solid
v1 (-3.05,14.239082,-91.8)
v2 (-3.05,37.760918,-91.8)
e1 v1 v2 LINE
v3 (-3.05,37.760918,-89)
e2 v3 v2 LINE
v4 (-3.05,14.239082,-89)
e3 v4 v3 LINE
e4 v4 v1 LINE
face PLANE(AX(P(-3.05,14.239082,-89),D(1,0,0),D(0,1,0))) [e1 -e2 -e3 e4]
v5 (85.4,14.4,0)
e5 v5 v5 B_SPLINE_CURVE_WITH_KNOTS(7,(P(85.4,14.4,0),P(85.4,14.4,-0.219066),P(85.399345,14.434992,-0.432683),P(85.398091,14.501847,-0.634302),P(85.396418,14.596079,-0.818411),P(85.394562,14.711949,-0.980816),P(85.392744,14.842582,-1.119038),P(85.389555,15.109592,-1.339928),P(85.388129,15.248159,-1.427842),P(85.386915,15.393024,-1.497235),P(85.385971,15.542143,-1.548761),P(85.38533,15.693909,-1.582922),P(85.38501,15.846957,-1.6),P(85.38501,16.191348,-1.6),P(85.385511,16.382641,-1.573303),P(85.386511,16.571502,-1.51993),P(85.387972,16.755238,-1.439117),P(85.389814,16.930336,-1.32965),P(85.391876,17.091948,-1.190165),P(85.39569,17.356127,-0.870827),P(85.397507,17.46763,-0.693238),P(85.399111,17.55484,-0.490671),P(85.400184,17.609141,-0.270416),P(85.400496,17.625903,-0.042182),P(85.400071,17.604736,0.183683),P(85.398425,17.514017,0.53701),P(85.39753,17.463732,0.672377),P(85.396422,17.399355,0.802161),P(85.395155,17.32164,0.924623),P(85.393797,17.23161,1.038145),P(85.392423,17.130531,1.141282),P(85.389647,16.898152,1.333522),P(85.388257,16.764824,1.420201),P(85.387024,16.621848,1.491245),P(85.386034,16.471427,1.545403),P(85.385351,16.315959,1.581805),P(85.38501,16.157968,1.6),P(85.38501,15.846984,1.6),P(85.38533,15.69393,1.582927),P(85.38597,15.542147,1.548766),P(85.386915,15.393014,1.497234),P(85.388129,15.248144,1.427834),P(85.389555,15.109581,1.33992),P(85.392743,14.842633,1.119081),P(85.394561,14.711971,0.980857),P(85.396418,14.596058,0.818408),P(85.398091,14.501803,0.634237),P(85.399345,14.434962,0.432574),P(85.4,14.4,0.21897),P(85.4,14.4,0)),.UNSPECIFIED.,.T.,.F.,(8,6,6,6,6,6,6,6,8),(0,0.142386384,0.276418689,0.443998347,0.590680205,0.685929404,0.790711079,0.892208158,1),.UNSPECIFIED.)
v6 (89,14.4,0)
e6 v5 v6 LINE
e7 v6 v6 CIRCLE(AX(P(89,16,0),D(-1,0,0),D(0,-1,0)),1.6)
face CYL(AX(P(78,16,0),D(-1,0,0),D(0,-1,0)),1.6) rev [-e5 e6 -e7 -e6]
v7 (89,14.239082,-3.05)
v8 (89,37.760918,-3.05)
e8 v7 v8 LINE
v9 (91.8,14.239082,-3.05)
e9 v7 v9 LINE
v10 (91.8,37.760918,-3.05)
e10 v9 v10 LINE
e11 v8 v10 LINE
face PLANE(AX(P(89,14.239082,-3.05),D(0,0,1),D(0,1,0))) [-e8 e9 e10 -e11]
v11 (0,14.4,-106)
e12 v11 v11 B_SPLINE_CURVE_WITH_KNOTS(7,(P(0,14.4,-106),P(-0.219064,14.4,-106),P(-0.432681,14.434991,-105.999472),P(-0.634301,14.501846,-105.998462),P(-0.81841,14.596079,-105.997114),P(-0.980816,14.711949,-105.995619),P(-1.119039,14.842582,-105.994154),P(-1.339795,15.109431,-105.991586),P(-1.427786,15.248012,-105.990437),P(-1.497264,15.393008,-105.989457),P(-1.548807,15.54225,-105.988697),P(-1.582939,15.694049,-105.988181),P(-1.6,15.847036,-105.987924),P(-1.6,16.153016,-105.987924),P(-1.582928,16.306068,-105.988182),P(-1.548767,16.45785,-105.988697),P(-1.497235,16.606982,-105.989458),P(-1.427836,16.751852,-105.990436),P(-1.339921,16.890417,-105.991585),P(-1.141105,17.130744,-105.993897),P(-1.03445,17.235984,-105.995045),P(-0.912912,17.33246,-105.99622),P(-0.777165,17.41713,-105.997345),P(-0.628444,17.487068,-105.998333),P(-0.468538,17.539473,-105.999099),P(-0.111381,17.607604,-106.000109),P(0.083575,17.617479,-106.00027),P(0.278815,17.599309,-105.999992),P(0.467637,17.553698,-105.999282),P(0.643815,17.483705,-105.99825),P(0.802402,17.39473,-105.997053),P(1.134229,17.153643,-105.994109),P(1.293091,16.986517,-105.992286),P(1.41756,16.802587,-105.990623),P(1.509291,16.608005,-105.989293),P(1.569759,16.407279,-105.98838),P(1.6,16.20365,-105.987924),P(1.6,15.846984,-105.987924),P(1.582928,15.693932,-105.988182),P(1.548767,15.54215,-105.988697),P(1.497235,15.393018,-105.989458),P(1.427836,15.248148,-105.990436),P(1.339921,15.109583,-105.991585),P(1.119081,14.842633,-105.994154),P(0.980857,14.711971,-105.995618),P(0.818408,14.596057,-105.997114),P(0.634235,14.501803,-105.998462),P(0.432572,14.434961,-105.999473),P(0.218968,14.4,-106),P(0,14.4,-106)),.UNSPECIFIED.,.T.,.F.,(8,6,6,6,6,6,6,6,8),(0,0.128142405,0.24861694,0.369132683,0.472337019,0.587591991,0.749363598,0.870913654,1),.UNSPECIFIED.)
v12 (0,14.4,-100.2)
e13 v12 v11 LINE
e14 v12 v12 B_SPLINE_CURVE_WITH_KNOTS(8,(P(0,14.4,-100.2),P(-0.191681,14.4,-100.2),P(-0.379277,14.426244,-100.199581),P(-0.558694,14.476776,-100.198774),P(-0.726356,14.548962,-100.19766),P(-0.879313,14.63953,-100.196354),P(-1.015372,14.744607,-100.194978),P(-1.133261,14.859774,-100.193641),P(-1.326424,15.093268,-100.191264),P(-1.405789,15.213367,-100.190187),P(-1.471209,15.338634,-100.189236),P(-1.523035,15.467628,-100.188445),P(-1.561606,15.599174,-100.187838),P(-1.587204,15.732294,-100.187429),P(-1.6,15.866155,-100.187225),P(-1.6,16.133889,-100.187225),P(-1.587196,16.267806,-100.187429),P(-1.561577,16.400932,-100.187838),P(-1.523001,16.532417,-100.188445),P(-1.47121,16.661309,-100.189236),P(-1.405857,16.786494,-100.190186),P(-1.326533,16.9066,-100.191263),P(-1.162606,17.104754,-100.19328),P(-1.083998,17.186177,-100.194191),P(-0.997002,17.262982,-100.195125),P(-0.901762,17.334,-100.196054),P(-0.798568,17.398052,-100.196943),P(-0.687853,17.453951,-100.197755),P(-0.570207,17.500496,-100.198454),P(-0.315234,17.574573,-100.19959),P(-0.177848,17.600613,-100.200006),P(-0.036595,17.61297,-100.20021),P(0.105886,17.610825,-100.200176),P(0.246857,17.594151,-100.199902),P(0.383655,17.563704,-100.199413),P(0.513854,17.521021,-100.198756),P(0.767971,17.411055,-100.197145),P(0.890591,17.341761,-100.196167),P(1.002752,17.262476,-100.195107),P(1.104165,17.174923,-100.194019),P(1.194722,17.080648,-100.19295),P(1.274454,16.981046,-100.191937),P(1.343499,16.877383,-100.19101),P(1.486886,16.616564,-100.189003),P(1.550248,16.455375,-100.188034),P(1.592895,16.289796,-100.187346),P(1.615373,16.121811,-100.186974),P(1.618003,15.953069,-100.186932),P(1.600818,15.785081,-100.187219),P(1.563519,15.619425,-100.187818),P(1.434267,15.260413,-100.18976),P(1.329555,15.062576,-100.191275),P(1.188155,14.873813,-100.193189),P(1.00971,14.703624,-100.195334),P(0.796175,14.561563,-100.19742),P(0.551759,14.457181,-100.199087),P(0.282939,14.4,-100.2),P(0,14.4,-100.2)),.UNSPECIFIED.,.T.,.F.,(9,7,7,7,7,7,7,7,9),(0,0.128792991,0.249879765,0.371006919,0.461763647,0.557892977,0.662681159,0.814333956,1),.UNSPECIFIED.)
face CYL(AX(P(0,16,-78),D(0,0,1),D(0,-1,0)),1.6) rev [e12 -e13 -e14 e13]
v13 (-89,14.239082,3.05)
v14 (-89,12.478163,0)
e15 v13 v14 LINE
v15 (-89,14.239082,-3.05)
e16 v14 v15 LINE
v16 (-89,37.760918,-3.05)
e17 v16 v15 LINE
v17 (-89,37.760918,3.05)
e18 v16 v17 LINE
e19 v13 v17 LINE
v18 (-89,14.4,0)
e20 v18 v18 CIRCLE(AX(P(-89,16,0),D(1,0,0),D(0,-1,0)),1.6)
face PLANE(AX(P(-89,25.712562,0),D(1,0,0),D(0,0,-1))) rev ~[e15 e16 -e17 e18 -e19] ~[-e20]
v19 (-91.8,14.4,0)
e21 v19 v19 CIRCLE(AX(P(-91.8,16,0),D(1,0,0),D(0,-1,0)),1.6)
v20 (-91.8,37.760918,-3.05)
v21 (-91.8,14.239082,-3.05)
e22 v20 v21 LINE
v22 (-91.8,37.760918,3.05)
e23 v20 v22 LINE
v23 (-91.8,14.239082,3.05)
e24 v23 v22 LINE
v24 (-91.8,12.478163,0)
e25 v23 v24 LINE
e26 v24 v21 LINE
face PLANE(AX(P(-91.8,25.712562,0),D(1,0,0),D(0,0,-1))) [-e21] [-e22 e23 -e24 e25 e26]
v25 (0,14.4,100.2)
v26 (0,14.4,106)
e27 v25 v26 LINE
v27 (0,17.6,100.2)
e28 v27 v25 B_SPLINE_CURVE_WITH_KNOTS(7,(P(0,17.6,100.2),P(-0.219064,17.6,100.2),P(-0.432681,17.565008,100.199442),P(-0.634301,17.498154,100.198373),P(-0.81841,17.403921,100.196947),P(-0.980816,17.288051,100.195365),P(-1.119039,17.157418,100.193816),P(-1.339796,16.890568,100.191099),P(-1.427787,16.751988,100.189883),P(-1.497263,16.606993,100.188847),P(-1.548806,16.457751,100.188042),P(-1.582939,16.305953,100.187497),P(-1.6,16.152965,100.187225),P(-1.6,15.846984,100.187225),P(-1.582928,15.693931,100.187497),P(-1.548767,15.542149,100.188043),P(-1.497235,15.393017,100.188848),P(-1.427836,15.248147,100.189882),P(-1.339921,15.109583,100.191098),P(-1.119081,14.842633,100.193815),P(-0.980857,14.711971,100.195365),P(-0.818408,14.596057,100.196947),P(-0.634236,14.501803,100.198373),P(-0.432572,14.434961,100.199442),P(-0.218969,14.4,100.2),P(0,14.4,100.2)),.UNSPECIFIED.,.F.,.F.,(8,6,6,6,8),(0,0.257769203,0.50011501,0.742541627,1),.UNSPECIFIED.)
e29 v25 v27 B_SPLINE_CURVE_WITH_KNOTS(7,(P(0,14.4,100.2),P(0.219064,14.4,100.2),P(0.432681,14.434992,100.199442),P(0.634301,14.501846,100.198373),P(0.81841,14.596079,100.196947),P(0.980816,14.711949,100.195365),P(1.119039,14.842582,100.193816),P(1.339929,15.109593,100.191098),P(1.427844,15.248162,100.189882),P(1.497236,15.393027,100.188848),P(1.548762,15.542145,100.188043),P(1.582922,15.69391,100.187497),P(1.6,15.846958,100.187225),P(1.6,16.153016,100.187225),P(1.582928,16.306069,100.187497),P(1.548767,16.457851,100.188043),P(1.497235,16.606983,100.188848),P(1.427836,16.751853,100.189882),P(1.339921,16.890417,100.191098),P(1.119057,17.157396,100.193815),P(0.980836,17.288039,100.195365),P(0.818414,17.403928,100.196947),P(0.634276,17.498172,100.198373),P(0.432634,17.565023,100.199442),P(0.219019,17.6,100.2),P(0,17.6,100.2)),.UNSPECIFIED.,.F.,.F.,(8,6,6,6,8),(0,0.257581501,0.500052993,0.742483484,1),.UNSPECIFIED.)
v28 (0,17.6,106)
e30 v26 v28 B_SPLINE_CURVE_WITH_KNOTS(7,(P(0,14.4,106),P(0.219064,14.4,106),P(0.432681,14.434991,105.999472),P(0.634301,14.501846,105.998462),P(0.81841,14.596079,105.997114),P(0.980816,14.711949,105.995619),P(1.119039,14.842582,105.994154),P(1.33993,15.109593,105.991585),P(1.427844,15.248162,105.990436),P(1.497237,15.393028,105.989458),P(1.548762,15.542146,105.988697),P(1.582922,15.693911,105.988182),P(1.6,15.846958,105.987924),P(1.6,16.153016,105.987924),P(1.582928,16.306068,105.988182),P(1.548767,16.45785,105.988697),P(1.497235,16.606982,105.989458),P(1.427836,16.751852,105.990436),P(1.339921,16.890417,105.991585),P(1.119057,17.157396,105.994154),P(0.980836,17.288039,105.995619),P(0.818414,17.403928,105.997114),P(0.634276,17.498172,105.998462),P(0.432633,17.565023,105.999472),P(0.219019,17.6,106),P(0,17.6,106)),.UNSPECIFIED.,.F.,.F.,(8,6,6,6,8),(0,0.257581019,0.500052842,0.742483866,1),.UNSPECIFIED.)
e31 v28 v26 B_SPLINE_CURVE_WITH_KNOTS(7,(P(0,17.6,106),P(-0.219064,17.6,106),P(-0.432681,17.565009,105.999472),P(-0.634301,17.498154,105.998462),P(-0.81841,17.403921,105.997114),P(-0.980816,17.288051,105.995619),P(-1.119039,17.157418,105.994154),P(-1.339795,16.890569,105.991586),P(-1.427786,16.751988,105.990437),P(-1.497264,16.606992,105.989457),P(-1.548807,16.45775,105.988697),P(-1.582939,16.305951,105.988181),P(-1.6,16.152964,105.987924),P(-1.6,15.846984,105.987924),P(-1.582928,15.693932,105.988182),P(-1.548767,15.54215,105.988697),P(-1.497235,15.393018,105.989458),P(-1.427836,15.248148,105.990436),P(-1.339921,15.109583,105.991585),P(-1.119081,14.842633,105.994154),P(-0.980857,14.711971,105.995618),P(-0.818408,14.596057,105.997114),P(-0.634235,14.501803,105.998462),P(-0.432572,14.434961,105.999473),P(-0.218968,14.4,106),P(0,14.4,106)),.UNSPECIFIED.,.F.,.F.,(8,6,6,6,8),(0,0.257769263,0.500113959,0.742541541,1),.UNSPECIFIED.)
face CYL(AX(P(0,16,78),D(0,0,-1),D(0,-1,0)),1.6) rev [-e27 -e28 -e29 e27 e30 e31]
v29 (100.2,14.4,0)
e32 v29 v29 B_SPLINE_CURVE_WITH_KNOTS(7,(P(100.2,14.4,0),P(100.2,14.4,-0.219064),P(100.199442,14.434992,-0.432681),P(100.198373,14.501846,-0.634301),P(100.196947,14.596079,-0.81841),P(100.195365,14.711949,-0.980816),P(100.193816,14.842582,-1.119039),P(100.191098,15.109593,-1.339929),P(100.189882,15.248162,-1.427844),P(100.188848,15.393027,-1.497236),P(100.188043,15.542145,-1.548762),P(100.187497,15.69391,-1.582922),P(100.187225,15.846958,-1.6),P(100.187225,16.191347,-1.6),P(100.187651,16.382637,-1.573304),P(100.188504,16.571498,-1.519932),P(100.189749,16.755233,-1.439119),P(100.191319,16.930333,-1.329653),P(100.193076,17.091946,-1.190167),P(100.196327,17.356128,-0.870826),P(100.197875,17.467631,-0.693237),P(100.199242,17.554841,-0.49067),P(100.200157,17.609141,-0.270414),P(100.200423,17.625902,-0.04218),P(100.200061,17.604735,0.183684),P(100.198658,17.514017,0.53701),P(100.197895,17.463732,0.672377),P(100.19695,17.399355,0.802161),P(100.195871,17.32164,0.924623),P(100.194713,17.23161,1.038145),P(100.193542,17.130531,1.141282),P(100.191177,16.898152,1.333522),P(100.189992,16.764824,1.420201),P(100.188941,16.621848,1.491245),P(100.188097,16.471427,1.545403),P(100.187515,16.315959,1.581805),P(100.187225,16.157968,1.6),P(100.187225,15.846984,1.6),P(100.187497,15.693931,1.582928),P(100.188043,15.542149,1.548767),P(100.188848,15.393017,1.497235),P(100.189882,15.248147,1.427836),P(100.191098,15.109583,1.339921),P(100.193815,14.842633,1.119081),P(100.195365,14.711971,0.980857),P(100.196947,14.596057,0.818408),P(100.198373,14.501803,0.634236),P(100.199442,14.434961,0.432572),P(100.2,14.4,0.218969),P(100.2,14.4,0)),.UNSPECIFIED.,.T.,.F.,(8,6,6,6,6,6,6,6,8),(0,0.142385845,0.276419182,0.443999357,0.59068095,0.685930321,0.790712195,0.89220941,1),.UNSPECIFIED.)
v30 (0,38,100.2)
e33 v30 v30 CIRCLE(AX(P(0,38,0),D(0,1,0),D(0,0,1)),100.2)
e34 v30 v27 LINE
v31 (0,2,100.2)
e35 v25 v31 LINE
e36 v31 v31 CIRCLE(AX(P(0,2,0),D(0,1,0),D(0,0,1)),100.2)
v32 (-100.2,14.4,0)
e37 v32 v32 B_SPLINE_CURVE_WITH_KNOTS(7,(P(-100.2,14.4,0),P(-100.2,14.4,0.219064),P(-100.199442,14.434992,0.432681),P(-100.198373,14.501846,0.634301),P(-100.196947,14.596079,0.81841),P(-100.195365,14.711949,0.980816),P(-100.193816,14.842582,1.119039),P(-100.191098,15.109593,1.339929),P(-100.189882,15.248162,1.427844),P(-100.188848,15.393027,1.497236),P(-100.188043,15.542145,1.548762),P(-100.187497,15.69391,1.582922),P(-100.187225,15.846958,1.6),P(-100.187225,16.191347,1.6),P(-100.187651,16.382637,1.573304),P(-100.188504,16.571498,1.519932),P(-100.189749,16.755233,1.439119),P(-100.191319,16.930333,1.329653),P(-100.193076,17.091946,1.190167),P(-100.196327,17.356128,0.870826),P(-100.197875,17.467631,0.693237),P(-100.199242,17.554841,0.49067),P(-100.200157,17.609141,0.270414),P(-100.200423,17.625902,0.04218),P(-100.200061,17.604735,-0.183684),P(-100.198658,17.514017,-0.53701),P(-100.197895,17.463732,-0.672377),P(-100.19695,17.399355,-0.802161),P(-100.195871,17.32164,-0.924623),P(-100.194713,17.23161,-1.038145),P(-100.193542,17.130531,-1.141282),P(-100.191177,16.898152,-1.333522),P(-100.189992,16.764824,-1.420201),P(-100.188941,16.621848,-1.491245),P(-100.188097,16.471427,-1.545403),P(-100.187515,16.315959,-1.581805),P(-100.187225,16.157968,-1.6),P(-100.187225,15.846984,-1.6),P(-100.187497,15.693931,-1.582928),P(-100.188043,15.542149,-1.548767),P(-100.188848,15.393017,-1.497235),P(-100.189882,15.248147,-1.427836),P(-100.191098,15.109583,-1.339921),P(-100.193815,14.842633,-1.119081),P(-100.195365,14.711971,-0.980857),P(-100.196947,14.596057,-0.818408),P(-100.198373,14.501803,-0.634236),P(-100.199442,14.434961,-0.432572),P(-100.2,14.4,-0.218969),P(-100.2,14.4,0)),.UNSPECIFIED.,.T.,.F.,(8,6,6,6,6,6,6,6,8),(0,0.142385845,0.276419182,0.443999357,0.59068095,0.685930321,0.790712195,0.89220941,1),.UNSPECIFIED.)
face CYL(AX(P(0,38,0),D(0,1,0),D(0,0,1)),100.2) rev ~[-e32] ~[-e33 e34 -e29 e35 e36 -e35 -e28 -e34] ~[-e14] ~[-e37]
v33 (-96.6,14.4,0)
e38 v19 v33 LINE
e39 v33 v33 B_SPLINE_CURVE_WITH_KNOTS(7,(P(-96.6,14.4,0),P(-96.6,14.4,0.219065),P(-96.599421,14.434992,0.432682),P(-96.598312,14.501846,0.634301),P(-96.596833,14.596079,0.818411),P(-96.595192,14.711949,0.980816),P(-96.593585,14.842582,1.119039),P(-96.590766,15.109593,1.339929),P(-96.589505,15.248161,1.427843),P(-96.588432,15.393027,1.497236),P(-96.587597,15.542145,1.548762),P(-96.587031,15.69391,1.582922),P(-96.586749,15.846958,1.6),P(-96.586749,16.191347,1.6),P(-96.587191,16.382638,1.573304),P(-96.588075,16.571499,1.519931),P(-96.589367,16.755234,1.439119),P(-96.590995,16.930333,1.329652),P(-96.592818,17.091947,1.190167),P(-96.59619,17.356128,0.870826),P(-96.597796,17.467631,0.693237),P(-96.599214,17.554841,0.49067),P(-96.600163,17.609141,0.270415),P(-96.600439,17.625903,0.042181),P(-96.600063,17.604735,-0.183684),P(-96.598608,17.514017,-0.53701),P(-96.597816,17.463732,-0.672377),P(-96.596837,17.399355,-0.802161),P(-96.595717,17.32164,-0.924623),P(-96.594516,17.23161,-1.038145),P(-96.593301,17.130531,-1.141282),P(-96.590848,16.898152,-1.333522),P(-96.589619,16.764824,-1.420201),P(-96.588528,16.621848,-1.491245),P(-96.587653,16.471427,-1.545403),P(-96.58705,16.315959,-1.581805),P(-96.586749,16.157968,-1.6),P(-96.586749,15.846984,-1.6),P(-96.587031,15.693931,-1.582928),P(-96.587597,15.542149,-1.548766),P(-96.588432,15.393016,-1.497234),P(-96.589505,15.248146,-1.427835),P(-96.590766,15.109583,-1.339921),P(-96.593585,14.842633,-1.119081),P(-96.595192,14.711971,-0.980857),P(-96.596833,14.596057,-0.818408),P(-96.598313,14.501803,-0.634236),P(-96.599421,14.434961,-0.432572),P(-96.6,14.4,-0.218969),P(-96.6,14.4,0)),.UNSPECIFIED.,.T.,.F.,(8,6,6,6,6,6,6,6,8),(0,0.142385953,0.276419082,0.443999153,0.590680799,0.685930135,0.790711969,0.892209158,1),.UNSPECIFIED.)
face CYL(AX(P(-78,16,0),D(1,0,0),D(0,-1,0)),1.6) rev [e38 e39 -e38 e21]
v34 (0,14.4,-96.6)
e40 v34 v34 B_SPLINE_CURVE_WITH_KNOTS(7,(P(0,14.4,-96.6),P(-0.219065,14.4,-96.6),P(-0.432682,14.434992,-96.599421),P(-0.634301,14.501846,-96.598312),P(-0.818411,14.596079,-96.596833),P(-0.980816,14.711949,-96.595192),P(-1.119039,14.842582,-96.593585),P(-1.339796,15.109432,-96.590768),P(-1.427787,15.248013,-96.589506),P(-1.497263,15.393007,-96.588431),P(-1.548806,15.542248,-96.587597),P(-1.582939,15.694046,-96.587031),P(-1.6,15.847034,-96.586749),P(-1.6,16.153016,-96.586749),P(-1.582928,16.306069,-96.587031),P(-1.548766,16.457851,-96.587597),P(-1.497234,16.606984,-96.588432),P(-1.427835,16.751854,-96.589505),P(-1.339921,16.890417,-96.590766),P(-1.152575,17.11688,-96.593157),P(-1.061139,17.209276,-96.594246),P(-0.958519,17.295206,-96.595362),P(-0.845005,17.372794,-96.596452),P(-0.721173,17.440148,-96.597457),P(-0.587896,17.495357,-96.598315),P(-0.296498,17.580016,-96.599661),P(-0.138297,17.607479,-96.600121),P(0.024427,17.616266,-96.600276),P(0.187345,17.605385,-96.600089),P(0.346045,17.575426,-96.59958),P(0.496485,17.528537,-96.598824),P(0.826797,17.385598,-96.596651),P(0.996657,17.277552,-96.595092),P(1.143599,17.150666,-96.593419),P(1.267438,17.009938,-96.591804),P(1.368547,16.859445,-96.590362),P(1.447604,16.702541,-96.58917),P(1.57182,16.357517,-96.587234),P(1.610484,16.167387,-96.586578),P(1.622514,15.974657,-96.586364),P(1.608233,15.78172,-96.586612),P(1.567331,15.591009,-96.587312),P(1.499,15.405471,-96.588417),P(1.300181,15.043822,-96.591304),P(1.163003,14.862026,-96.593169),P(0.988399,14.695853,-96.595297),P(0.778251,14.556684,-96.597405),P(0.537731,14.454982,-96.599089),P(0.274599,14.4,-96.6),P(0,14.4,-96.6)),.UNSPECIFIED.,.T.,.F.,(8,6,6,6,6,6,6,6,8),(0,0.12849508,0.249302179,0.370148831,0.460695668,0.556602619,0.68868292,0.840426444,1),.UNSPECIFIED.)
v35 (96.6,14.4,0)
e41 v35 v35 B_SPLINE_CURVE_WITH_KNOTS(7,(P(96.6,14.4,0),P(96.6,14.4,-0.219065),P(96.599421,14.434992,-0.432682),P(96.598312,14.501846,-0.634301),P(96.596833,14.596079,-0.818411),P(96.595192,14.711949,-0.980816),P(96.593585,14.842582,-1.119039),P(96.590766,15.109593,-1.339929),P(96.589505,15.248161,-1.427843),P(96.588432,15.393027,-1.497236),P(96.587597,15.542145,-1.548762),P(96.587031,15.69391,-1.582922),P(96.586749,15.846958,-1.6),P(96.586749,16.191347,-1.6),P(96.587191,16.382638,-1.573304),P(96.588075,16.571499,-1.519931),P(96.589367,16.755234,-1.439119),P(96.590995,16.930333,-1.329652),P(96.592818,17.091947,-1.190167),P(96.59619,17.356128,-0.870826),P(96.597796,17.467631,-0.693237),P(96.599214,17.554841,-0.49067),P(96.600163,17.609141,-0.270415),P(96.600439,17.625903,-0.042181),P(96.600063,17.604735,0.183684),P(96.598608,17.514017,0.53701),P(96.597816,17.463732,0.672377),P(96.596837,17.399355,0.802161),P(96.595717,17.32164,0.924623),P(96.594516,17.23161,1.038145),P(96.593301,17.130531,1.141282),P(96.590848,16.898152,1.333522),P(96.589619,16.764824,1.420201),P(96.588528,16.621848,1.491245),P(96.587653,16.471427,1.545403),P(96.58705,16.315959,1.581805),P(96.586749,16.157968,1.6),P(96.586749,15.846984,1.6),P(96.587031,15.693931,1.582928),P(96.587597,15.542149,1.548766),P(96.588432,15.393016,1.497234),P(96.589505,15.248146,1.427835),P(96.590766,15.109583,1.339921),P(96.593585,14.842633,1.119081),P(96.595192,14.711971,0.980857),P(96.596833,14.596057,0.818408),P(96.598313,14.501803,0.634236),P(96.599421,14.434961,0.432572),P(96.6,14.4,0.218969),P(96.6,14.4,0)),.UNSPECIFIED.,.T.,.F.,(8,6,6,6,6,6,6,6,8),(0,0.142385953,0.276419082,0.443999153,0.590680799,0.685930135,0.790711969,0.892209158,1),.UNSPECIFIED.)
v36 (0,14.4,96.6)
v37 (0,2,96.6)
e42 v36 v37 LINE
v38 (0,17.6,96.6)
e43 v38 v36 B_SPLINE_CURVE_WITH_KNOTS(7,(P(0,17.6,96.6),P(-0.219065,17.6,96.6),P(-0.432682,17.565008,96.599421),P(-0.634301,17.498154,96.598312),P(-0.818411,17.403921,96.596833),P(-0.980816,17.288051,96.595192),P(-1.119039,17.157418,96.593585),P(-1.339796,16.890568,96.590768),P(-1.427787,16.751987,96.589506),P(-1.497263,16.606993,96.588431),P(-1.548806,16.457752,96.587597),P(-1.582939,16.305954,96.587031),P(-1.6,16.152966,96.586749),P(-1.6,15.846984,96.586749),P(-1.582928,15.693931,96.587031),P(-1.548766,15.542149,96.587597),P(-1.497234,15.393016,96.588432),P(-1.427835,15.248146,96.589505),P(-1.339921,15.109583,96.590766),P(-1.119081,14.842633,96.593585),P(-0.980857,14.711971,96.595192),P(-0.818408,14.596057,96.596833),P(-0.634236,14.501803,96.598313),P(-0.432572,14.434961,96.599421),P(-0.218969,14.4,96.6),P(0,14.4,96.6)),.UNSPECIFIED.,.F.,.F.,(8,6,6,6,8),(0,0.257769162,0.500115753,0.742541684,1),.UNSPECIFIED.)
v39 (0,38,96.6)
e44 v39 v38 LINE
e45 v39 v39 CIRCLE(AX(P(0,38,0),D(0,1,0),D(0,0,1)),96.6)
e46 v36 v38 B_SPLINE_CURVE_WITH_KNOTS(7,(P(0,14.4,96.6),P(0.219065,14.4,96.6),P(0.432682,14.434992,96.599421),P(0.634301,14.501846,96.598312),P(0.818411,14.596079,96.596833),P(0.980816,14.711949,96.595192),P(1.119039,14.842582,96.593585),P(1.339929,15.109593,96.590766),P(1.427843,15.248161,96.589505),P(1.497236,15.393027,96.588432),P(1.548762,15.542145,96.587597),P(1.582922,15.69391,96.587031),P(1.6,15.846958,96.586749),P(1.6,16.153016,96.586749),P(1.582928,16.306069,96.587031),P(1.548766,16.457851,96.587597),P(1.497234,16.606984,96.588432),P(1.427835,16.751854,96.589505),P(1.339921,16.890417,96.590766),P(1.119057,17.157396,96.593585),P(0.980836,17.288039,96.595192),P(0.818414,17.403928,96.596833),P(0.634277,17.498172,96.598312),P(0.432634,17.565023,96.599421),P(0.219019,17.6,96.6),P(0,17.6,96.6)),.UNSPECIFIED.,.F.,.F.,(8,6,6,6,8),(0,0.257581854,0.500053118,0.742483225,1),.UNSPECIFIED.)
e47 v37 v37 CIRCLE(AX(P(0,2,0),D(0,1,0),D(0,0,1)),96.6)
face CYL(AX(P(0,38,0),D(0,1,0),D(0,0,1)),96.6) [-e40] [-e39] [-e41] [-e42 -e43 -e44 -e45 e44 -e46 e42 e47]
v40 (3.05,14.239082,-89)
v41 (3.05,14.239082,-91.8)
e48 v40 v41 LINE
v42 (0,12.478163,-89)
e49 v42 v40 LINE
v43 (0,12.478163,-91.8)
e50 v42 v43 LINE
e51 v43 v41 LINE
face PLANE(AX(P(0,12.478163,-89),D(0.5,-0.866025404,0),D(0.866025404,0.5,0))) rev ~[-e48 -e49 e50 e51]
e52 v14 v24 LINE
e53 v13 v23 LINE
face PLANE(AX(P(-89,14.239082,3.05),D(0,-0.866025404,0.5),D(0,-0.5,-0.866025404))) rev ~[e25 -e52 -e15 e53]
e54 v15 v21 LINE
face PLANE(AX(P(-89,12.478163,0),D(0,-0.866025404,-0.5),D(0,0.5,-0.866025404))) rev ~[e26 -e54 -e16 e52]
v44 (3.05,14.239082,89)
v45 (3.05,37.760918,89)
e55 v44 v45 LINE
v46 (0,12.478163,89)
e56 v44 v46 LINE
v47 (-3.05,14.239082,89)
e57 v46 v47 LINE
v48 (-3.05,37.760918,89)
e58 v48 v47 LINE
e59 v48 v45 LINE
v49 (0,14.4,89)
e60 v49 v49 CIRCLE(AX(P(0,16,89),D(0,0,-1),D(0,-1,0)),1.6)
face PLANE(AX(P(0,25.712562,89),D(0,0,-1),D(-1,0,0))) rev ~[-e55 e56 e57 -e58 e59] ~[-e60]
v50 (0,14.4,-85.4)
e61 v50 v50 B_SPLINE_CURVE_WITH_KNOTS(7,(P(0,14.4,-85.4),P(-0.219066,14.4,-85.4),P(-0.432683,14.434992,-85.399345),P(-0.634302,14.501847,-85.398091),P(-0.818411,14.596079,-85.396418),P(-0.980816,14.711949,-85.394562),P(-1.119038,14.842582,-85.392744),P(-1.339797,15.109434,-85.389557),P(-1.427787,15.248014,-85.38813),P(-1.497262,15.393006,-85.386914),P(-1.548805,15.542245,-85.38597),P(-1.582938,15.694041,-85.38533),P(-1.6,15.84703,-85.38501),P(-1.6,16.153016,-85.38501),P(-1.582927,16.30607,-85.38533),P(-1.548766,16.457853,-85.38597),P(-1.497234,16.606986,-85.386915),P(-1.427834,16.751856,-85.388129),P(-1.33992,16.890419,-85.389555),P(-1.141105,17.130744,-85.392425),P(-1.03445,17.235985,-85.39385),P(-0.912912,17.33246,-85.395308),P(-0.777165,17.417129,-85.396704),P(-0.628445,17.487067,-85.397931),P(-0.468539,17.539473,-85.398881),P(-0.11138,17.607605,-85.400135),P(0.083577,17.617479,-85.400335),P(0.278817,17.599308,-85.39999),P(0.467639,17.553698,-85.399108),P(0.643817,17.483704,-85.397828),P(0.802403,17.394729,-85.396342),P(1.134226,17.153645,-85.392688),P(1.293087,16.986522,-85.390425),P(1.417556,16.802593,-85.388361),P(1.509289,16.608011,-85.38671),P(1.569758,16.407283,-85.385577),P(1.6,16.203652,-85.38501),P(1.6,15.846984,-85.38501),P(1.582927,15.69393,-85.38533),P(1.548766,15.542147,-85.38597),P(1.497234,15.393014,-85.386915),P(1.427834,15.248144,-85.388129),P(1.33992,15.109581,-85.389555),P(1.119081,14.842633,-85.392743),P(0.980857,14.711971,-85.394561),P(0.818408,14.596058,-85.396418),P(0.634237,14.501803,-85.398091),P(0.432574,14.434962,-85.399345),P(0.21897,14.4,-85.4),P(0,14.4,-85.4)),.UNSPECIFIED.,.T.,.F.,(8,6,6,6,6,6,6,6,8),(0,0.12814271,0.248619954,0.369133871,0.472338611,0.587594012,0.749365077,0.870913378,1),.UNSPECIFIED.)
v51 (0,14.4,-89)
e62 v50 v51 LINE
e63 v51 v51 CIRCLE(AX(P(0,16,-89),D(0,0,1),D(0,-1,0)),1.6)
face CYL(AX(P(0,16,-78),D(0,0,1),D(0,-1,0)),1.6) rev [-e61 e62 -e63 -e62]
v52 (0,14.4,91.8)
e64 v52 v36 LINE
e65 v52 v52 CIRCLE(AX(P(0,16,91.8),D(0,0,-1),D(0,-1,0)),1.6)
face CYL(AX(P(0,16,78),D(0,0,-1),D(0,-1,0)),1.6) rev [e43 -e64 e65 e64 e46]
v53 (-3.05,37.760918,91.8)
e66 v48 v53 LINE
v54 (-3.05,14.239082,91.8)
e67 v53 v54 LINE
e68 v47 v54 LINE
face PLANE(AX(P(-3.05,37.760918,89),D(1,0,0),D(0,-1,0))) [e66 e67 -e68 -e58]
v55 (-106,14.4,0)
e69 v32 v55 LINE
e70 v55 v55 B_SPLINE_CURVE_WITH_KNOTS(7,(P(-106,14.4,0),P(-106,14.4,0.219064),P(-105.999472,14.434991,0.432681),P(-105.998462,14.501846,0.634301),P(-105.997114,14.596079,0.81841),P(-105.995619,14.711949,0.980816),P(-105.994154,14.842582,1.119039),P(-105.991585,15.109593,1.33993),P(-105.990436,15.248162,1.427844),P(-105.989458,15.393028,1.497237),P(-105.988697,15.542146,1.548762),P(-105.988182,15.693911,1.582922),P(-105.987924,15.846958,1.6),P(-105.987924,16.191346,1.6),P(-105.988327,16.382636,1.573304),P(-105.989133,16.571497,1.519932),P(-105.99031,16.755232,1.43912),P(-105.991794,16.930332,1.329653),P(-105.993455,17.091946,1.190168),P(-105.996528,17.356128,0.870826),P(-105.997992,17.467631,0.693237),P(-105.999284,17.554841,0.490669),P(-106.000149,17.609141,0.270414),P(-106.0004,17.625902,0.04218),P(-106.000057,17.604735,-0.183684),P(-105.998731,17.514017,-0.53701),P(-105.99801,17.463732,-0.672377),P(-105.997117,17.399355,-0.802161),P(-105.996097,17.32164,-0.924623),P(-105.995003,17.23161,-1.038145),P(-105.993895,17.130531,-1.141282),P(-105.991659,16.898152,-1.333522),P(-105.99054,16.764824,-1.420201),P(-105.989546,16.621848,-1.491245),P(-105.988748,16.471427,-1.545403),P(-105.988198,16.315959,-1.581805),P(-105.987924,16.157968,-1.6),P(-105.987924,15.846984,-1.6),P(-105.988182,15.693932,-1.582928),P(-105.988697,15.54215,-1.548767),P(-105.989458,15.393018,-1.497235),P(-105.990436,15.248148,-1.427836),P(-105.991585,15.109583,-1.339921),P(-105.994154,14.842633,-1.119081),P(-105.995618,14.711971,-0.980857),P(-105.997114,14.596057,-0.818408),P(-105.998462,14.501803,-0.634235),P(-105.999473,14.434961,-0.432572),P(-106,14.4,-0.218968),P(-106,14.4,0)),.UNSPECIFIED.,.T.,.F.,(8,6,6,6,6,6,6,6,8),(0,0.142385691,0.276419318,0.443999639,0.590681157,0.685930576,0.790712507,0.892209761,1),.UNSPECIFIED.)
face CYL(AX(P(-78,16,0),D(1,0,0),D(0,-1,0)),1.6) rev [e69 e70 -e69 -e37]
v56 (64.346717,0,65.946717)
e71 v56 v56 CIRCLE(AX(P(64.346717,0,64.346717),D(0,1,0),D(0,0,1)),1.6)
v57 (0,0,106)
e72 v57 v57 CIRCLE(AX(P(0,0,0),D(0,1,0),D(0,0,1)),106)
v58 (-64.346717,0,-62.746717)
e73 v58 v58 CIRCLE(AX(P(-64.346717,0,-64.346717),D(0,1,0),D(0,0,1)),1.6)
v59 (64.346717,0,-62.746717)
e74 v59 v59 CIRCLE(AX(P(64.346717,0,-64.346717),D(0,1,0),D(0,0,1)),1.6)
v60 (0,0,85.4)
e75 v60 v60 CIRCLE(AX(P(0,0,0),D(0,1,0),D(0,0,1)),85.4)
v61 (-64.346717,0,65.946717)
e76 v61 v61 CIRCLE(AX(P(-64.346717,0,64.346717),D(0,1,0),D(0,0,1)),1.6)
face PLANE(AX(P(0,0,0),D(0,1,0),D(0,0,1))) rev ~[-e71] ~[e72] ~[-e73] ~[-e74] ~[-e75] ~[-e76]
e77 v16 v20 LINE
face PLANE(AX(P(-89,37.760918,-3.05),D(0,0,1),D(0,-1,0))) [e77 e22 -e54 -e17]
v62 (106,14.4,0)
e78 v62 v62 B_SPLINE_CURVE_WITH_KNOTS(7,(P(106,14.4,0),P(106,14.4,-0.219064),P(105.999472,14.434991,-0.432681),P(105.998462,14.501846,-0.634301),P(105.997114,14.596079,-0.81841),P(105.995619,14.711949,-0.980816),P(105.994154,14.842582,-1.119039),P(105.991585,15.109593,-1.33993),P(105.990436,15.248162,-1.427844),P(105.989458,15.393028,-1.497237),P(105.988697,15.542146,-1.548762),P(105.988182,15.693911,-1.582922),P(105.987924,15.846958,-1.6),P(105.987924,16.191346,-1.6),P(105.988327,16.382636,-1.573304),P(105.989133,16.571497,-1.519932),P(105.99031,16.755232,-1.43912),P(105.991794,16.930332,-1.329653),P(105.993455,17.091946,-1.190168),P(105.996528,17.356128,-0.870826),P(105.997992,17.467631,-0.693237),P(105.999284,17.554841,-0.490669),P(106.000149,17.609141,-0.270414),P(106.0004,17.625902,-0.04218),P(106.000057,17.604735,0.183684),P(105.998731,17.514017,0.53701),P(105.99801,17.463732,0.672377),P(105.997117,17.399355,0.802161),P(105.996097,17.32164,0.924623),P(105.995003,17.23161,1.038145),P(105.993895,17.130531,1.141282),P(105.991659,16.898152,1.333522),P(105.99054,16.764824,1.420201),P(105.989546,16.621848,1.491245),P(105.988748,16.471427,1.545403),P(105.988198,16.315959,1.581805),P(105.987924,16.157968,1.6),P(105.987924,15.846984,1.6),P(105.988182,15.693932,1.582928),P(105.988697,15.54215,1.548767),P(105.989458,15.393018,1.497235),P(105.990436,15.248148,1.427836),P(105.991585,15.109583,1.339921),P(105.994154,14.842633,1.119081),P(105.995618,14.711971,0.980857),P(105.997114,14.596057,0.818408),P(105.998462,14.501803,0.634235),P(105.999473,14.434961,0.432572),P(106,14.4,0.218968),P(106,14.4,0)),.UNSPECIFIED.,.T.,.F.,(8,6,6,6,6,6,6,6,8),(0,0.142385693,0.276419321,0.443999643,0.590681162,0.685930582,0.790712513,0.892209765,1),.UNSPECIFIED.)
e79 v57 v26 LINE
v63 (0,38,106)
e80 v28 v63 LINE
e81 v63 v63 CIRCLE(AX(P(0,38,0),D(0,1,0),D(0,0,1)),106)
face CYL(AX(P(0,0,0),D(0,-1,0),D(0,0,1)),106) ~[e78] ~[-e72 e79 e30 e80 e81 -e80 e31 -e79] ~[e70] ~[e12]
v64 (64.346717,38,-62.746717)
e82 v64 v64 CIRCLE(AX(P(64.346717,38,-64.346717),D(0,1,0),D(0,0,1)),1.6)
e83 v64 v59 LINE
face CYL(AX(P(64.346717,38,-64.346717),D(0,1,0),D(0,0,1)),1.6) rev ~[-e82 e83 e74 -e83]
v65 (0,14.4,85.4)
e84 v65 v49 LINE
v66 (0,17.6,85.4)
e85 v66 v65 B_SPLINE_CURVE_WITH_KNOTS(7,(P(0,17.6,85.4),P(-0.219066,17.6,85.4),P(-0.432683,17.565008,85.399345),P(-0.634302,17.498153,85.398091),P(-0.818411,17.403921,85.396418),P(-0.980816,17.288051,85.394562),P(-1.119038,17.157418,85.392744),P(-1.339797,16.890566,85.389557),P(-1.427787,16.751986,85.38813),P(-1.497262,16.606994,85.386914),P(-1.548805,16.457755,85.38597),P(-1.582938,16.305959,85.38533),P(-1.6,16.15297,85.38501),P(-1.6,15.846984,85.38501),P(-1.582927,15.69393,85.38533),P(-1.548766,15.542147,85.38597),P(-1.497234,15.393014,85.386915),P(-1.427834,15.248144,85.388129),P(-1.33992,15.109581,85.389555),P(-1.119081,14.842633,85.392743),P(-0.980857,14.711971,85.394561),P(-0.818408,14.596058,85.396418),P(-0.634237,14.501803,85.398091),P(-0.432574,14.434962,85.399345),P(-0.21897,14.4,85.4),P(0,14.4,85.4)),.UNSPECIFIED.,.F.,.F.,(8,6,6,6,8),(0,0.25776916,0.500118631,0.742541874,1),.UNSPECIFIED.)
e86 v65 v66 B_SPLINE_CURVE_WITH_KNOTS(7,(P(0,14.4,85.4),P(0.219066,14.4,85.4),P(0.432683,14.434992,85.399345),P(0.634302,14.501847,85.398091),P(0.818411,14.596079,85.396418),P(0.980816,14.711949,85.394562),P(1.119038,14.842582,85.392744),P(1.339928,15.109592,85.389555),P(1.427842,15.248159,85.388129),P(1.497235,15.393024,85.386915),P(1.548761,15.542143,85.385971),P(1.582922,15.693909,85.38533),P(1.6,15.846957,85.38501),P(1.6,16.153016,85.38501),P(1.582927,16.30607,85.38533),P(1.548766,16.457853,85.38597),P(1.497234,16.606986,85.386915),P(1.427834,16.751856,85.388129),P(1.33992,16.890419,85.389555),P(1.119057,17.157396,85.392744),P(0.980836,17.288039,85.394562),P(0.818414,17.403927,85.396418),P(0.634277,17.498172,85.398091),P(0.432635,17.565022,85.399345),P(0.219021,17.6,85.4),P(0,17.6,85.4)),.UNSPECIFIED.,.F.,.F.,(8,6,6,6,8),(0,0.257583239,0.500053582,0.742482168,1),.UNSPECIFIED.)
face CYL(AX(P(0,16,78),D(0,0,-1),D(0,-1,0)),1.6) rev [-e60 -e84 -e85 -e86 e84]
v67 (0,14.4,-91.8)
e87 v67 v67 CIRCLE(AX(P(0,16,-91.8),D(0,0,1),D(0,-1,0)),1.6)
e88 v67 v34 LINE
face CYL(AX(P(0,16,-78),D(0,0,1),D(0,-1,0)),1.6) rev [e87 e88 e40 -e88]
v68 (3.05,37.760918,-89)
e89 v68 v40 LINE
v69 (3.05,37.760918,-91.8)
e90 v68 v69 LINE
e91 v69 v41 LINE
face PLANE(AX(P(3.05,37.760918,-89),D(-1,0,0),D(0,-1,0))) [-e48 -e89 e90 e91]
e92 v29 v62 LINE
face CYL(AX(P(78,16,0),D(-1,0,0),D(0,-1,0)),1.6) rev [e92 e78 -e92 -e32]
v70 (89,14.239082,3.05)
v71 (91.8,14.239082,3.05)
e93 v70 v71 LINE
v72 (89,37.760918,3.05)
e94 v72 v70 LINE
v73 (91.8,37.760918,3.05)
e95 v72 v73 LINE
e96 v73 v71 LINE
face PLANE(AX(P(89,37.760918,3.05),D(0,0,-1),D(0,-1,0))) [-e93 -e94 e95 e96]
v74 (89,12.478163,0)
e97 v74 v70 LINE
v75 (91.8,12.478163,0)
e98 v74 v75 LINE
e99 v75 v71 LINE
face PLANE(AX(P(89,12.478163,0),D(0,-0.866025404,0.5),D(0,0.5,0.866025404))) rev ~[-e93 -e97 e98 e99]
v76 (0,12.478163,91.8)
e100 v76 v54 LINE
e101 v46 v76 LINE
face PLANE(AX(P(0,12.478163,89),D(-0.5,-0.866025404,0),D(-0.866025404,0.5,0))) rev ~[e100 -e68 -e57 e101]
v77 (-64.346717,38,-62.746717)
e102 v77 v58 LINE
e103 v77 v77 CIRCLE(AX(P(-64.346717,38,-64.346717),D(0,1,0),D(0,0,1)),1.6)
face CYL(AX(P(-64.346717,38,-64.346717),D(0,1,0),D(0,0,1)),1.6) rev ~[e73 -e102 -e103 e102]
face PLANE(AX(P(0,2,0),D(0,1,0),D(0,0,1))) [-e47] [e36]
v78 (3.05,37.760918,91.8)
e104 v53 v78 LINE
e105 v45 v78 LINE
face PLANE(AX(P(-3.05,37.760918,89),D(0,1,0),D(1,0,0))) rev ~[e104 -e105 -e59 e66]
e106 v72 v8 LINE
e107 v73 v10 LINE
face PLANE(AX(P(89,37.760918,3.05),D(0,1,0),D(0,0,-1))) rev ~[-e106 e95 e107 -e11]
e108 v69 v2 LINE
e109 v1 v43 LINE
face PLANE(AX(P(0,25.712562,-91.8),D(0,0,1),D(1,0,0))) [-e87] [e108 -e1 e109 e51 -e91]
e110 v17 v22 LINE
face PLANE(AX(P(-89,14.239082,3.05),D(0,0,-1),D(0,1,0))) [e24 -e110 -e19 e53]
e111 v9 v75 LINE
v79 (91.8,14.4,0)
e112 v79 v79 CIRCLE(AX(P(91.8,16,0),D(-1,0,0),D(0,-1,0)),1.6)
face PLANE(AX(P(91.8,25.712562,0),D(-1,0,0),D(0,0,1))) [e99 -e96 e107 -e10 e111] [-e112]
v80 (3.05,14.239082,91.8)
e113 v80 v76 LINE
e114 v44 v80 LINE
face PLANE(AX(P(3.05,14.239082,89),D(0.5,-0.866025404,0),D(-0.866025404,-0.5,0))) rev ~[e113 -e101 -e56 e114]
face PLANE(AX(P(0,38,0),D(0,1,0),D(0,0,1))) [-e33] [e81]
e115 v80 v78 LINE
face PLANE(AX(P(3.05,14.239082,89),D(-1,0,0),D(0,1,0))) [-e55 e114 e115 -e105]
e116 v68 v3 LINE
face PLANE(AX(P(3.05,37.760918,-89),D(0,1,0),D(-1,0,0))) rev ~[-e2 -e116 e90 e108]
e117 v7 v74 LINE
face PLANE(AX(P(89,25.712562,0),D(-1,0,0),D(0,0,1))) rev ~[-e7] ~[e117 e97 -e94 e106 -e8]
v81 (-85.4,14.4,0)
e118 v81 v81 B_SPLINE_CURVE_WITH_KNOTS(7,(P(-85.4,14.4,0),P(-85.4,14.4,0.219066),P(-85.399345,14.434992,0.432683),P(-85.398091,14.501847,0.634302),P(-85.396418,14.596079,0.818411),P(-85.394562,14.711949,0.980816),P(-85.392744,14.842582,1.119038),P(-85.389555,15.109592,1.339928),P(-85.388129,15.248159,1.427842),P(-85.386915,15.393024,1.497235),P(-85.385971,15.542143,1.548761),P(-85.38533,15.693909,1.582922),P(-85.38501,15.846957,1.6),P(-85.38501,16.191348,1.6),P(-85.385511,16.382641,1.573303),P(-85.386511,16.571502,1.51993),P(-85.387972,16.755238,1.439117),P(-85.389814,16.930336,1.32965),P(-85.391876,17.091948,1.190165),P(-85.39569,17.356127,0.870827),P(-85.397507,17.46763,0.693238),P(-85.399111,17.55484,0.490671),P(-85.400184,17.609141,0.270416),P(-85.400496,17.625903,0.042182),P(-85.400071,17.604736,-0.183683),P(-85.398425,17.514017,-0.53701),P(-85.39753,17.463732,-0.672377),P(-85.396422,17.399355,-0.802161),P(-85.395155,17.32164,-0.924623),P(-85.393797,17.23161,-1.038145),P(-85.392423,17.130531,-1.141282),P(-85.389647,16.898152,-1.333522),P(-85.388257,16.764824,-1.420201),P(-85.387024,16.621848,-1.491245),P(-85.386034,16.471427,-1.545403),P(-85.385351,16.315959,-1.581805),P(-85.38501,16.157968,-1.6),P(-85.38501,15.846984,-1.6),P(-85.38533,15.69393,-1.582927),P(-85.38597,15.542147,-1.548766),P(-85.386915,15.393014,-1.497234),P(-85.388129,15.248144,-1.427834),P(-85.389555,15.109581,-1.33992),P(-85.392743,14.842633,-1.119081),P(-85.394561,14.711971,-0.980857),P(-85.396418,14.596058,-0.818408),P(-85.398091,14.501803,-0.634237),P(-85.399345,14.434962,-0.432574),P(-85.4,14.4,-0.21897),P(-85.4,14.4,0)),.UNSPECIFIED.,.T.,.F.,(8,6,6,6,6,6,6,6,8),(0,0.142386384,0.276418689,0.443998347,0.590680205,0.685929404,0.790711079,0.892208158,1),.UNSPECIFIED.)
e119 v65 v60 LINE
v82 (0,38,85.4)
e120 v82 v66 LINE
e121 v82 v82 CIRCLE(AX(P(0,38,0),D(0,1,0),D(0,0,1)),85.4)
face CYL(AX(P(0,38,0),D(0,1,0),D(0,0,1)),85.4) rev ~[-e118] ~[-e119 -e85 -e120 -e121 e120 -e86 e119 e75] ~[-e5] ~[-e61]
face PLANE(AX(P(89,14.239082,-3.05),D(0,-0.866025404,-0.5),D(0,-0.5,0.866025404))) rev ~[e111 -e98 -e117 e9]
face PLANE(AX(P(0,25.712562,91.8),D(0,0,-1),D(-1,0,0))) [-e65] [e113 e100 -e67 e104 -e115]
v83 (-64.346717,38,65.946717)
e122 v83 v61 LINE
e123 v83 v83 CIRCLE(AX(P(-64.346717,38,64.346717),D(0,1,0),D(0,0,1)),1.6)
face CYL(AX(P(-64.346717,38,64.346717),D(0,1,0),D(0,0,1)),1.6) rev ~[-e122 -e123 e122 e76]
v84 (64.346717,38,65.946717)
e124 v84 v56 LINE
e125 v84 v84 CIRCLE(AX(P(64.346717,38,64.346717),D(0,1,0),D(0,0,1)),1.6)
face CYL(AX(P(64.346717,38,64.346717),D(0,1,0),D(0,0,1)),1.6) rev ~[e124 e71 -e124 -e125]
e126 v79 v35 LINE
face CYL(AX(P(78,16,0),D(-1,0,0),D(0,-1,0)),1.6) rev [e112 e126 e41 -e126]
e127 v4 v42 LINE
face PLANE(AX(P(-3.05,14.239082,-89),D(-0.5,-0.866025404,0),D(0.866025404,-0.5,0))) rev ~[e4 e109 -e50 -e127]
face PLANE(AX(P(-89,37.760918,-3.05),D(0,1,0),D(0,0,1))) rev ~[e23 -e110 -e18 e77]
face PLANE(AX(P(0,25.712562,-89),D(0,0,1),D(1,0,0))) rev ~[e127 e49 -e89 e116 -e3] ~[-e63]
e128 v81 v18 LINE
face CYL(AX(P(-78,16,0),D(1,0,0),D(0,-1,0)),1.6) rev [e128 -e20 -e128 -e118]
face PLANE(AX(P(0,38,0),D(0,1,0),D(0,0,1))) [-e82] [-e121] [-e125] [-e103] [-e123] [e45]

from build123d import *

# Parameters (mm, degrees)
SKETCH1_R           = 106
BOSS_EXTRUDE1_DEPTH = 38
SKETCH2_R           = 100.2
SKETCH2_R_2         = 96.6
CUT_EXTRUDE1_DEPTH  = 36
SKETCH3_R           = 85.4
CUT_EXTRUDE2_DEPTH  = 155.647987378
SKETCH5_R           = 1.6
CUT_EXTRUDE3_DEPTH  = 155.647987378
CUT_EXTRUDE4_START  = -8
SKETCH6_R           = 1.6
CUT_EXTRUDE4_DEPTH  = 231.584815295
CIRPATTERN1_COUNT   = 4
CUT_EXTRUDE5_START  = 3
CUT_EXTRUDE5_DEPTH  = 2.8
CIRPATTERN2_COUNT   = 4


with BuildPart() as part:
    # Sketch1 → Boss-Extrude1 (new body)
    with BuildSketch(Plane(origin=(0, 0, 0), x_dir=(1, 0, 0), z_dir=(0, 1, 0))):
        Circle(SKETCH1_R)
    extrude(amount=BOSS_EXTRUDE1_DEPTH)

    # Sketch2 → Cut-Extrude1 (cut)
    with BuildSketch(Plane(origin=(0, 38, 0), x_dir=(1, 0, 0), z_dir=(0, 1, 0))):
        Circle(SKETCH2_R)
        Circle(SKETCH2_R_2, mode=Mode.SUBTRACT)
    extrude(amount=-CUT_EXTRUDE1_DEPTH, mode=Mode.SUBTRACT)

    # Sketch3 → Cut-Extrude2 (cut, through all)
    with BuildSketch(Plane(origin=(0, 38, 0), x_dir=(1, 0, 0), z_dir=(0, 1, 0))):
        Circle(SKETCH3_R)
    extrude(amount=-CUT_EXTRUDE2_DEPTH, mode=Mode.SUBTRACT)

    # Sketch5 → Cut-Extrude3 (cut, through all)
    with BuildSketch(Plane(origin=(0, 38, 0), x_dir=(1, 0, 0), z_dir=(0, 1, 0))):
        with Locations((-64.346717088, 64.346717088)):
            Circle(SKETCH5_R)
        with Locations((64.346717088, 64.346717088)):
            Circle(SKETCH5_R)
        with Locations((64.346717088, -64.346717088)):
            Circle(SKETCH5_R)
        with Locations((-64.346717088, -64.346717088)):
            Circle(SKETCH5_R)
    extrude(amount=-CUT_EXTRUDE3_DEPTH, mode=Mode.SUBTRACT)

    # Sketch6 → Cut-Extrude4 (cut)
    with BuildSketch(Plane.XY.offset(86).offset(CUT_EXTRUDE4_START)):
        with Locations((0, 16)):
            Circle(SKETCH6_R)
    cut_extrude4 = extrude(amount=CUT_EXTRUDE4_DEPTH, mode=Mode.SUBTRACT)

    # CirPattern1: Cut-Extrude4 ×4 about axis
    cirpattern1_axis = Axis((0, 38, 0), (0, -1, 0))
    for i in range(1, CIRPATTERN1_COUNT):
        add(cut_extrude4.rotate(cirpattern1_axis, i * 360 / CIRPATTERN1_COUNT), mode=Mode.SUBTRACT)

    # Sketch7 → Cut-Extrude5 (cut)
    with BuildSketch(Plane.XY.offset(86).offset(CUT_EXTRUDE5_START)):
        Polygon((-3.05, 17.760918321), (-3.05, 37.760918321), (3.05, 37.760918321), (3.05, 17.760918321), (3.05, 14.239081679), (0, 12.478163358), (-3.05, 14.239081679), align=None)
    cut_extrude5 = extrude(amount=CUT_EXTRUDE5_DEPTH, mode=Mode.SUBTRACT)

    # CirPattern2: Cut-Extrude5 ×4 about axis
    cirpattern2_axis = Axis((0, 38, 0), (0, -1, 0))
    for i in range(1, CIRPATTERN2_COUNT):
        add(cut_extrude5.rotate(cirpattern2_axis, i * 360 / CIRPATTERN2_COUNT), mode=Mode.SUBTRACT)


solid = part.part
